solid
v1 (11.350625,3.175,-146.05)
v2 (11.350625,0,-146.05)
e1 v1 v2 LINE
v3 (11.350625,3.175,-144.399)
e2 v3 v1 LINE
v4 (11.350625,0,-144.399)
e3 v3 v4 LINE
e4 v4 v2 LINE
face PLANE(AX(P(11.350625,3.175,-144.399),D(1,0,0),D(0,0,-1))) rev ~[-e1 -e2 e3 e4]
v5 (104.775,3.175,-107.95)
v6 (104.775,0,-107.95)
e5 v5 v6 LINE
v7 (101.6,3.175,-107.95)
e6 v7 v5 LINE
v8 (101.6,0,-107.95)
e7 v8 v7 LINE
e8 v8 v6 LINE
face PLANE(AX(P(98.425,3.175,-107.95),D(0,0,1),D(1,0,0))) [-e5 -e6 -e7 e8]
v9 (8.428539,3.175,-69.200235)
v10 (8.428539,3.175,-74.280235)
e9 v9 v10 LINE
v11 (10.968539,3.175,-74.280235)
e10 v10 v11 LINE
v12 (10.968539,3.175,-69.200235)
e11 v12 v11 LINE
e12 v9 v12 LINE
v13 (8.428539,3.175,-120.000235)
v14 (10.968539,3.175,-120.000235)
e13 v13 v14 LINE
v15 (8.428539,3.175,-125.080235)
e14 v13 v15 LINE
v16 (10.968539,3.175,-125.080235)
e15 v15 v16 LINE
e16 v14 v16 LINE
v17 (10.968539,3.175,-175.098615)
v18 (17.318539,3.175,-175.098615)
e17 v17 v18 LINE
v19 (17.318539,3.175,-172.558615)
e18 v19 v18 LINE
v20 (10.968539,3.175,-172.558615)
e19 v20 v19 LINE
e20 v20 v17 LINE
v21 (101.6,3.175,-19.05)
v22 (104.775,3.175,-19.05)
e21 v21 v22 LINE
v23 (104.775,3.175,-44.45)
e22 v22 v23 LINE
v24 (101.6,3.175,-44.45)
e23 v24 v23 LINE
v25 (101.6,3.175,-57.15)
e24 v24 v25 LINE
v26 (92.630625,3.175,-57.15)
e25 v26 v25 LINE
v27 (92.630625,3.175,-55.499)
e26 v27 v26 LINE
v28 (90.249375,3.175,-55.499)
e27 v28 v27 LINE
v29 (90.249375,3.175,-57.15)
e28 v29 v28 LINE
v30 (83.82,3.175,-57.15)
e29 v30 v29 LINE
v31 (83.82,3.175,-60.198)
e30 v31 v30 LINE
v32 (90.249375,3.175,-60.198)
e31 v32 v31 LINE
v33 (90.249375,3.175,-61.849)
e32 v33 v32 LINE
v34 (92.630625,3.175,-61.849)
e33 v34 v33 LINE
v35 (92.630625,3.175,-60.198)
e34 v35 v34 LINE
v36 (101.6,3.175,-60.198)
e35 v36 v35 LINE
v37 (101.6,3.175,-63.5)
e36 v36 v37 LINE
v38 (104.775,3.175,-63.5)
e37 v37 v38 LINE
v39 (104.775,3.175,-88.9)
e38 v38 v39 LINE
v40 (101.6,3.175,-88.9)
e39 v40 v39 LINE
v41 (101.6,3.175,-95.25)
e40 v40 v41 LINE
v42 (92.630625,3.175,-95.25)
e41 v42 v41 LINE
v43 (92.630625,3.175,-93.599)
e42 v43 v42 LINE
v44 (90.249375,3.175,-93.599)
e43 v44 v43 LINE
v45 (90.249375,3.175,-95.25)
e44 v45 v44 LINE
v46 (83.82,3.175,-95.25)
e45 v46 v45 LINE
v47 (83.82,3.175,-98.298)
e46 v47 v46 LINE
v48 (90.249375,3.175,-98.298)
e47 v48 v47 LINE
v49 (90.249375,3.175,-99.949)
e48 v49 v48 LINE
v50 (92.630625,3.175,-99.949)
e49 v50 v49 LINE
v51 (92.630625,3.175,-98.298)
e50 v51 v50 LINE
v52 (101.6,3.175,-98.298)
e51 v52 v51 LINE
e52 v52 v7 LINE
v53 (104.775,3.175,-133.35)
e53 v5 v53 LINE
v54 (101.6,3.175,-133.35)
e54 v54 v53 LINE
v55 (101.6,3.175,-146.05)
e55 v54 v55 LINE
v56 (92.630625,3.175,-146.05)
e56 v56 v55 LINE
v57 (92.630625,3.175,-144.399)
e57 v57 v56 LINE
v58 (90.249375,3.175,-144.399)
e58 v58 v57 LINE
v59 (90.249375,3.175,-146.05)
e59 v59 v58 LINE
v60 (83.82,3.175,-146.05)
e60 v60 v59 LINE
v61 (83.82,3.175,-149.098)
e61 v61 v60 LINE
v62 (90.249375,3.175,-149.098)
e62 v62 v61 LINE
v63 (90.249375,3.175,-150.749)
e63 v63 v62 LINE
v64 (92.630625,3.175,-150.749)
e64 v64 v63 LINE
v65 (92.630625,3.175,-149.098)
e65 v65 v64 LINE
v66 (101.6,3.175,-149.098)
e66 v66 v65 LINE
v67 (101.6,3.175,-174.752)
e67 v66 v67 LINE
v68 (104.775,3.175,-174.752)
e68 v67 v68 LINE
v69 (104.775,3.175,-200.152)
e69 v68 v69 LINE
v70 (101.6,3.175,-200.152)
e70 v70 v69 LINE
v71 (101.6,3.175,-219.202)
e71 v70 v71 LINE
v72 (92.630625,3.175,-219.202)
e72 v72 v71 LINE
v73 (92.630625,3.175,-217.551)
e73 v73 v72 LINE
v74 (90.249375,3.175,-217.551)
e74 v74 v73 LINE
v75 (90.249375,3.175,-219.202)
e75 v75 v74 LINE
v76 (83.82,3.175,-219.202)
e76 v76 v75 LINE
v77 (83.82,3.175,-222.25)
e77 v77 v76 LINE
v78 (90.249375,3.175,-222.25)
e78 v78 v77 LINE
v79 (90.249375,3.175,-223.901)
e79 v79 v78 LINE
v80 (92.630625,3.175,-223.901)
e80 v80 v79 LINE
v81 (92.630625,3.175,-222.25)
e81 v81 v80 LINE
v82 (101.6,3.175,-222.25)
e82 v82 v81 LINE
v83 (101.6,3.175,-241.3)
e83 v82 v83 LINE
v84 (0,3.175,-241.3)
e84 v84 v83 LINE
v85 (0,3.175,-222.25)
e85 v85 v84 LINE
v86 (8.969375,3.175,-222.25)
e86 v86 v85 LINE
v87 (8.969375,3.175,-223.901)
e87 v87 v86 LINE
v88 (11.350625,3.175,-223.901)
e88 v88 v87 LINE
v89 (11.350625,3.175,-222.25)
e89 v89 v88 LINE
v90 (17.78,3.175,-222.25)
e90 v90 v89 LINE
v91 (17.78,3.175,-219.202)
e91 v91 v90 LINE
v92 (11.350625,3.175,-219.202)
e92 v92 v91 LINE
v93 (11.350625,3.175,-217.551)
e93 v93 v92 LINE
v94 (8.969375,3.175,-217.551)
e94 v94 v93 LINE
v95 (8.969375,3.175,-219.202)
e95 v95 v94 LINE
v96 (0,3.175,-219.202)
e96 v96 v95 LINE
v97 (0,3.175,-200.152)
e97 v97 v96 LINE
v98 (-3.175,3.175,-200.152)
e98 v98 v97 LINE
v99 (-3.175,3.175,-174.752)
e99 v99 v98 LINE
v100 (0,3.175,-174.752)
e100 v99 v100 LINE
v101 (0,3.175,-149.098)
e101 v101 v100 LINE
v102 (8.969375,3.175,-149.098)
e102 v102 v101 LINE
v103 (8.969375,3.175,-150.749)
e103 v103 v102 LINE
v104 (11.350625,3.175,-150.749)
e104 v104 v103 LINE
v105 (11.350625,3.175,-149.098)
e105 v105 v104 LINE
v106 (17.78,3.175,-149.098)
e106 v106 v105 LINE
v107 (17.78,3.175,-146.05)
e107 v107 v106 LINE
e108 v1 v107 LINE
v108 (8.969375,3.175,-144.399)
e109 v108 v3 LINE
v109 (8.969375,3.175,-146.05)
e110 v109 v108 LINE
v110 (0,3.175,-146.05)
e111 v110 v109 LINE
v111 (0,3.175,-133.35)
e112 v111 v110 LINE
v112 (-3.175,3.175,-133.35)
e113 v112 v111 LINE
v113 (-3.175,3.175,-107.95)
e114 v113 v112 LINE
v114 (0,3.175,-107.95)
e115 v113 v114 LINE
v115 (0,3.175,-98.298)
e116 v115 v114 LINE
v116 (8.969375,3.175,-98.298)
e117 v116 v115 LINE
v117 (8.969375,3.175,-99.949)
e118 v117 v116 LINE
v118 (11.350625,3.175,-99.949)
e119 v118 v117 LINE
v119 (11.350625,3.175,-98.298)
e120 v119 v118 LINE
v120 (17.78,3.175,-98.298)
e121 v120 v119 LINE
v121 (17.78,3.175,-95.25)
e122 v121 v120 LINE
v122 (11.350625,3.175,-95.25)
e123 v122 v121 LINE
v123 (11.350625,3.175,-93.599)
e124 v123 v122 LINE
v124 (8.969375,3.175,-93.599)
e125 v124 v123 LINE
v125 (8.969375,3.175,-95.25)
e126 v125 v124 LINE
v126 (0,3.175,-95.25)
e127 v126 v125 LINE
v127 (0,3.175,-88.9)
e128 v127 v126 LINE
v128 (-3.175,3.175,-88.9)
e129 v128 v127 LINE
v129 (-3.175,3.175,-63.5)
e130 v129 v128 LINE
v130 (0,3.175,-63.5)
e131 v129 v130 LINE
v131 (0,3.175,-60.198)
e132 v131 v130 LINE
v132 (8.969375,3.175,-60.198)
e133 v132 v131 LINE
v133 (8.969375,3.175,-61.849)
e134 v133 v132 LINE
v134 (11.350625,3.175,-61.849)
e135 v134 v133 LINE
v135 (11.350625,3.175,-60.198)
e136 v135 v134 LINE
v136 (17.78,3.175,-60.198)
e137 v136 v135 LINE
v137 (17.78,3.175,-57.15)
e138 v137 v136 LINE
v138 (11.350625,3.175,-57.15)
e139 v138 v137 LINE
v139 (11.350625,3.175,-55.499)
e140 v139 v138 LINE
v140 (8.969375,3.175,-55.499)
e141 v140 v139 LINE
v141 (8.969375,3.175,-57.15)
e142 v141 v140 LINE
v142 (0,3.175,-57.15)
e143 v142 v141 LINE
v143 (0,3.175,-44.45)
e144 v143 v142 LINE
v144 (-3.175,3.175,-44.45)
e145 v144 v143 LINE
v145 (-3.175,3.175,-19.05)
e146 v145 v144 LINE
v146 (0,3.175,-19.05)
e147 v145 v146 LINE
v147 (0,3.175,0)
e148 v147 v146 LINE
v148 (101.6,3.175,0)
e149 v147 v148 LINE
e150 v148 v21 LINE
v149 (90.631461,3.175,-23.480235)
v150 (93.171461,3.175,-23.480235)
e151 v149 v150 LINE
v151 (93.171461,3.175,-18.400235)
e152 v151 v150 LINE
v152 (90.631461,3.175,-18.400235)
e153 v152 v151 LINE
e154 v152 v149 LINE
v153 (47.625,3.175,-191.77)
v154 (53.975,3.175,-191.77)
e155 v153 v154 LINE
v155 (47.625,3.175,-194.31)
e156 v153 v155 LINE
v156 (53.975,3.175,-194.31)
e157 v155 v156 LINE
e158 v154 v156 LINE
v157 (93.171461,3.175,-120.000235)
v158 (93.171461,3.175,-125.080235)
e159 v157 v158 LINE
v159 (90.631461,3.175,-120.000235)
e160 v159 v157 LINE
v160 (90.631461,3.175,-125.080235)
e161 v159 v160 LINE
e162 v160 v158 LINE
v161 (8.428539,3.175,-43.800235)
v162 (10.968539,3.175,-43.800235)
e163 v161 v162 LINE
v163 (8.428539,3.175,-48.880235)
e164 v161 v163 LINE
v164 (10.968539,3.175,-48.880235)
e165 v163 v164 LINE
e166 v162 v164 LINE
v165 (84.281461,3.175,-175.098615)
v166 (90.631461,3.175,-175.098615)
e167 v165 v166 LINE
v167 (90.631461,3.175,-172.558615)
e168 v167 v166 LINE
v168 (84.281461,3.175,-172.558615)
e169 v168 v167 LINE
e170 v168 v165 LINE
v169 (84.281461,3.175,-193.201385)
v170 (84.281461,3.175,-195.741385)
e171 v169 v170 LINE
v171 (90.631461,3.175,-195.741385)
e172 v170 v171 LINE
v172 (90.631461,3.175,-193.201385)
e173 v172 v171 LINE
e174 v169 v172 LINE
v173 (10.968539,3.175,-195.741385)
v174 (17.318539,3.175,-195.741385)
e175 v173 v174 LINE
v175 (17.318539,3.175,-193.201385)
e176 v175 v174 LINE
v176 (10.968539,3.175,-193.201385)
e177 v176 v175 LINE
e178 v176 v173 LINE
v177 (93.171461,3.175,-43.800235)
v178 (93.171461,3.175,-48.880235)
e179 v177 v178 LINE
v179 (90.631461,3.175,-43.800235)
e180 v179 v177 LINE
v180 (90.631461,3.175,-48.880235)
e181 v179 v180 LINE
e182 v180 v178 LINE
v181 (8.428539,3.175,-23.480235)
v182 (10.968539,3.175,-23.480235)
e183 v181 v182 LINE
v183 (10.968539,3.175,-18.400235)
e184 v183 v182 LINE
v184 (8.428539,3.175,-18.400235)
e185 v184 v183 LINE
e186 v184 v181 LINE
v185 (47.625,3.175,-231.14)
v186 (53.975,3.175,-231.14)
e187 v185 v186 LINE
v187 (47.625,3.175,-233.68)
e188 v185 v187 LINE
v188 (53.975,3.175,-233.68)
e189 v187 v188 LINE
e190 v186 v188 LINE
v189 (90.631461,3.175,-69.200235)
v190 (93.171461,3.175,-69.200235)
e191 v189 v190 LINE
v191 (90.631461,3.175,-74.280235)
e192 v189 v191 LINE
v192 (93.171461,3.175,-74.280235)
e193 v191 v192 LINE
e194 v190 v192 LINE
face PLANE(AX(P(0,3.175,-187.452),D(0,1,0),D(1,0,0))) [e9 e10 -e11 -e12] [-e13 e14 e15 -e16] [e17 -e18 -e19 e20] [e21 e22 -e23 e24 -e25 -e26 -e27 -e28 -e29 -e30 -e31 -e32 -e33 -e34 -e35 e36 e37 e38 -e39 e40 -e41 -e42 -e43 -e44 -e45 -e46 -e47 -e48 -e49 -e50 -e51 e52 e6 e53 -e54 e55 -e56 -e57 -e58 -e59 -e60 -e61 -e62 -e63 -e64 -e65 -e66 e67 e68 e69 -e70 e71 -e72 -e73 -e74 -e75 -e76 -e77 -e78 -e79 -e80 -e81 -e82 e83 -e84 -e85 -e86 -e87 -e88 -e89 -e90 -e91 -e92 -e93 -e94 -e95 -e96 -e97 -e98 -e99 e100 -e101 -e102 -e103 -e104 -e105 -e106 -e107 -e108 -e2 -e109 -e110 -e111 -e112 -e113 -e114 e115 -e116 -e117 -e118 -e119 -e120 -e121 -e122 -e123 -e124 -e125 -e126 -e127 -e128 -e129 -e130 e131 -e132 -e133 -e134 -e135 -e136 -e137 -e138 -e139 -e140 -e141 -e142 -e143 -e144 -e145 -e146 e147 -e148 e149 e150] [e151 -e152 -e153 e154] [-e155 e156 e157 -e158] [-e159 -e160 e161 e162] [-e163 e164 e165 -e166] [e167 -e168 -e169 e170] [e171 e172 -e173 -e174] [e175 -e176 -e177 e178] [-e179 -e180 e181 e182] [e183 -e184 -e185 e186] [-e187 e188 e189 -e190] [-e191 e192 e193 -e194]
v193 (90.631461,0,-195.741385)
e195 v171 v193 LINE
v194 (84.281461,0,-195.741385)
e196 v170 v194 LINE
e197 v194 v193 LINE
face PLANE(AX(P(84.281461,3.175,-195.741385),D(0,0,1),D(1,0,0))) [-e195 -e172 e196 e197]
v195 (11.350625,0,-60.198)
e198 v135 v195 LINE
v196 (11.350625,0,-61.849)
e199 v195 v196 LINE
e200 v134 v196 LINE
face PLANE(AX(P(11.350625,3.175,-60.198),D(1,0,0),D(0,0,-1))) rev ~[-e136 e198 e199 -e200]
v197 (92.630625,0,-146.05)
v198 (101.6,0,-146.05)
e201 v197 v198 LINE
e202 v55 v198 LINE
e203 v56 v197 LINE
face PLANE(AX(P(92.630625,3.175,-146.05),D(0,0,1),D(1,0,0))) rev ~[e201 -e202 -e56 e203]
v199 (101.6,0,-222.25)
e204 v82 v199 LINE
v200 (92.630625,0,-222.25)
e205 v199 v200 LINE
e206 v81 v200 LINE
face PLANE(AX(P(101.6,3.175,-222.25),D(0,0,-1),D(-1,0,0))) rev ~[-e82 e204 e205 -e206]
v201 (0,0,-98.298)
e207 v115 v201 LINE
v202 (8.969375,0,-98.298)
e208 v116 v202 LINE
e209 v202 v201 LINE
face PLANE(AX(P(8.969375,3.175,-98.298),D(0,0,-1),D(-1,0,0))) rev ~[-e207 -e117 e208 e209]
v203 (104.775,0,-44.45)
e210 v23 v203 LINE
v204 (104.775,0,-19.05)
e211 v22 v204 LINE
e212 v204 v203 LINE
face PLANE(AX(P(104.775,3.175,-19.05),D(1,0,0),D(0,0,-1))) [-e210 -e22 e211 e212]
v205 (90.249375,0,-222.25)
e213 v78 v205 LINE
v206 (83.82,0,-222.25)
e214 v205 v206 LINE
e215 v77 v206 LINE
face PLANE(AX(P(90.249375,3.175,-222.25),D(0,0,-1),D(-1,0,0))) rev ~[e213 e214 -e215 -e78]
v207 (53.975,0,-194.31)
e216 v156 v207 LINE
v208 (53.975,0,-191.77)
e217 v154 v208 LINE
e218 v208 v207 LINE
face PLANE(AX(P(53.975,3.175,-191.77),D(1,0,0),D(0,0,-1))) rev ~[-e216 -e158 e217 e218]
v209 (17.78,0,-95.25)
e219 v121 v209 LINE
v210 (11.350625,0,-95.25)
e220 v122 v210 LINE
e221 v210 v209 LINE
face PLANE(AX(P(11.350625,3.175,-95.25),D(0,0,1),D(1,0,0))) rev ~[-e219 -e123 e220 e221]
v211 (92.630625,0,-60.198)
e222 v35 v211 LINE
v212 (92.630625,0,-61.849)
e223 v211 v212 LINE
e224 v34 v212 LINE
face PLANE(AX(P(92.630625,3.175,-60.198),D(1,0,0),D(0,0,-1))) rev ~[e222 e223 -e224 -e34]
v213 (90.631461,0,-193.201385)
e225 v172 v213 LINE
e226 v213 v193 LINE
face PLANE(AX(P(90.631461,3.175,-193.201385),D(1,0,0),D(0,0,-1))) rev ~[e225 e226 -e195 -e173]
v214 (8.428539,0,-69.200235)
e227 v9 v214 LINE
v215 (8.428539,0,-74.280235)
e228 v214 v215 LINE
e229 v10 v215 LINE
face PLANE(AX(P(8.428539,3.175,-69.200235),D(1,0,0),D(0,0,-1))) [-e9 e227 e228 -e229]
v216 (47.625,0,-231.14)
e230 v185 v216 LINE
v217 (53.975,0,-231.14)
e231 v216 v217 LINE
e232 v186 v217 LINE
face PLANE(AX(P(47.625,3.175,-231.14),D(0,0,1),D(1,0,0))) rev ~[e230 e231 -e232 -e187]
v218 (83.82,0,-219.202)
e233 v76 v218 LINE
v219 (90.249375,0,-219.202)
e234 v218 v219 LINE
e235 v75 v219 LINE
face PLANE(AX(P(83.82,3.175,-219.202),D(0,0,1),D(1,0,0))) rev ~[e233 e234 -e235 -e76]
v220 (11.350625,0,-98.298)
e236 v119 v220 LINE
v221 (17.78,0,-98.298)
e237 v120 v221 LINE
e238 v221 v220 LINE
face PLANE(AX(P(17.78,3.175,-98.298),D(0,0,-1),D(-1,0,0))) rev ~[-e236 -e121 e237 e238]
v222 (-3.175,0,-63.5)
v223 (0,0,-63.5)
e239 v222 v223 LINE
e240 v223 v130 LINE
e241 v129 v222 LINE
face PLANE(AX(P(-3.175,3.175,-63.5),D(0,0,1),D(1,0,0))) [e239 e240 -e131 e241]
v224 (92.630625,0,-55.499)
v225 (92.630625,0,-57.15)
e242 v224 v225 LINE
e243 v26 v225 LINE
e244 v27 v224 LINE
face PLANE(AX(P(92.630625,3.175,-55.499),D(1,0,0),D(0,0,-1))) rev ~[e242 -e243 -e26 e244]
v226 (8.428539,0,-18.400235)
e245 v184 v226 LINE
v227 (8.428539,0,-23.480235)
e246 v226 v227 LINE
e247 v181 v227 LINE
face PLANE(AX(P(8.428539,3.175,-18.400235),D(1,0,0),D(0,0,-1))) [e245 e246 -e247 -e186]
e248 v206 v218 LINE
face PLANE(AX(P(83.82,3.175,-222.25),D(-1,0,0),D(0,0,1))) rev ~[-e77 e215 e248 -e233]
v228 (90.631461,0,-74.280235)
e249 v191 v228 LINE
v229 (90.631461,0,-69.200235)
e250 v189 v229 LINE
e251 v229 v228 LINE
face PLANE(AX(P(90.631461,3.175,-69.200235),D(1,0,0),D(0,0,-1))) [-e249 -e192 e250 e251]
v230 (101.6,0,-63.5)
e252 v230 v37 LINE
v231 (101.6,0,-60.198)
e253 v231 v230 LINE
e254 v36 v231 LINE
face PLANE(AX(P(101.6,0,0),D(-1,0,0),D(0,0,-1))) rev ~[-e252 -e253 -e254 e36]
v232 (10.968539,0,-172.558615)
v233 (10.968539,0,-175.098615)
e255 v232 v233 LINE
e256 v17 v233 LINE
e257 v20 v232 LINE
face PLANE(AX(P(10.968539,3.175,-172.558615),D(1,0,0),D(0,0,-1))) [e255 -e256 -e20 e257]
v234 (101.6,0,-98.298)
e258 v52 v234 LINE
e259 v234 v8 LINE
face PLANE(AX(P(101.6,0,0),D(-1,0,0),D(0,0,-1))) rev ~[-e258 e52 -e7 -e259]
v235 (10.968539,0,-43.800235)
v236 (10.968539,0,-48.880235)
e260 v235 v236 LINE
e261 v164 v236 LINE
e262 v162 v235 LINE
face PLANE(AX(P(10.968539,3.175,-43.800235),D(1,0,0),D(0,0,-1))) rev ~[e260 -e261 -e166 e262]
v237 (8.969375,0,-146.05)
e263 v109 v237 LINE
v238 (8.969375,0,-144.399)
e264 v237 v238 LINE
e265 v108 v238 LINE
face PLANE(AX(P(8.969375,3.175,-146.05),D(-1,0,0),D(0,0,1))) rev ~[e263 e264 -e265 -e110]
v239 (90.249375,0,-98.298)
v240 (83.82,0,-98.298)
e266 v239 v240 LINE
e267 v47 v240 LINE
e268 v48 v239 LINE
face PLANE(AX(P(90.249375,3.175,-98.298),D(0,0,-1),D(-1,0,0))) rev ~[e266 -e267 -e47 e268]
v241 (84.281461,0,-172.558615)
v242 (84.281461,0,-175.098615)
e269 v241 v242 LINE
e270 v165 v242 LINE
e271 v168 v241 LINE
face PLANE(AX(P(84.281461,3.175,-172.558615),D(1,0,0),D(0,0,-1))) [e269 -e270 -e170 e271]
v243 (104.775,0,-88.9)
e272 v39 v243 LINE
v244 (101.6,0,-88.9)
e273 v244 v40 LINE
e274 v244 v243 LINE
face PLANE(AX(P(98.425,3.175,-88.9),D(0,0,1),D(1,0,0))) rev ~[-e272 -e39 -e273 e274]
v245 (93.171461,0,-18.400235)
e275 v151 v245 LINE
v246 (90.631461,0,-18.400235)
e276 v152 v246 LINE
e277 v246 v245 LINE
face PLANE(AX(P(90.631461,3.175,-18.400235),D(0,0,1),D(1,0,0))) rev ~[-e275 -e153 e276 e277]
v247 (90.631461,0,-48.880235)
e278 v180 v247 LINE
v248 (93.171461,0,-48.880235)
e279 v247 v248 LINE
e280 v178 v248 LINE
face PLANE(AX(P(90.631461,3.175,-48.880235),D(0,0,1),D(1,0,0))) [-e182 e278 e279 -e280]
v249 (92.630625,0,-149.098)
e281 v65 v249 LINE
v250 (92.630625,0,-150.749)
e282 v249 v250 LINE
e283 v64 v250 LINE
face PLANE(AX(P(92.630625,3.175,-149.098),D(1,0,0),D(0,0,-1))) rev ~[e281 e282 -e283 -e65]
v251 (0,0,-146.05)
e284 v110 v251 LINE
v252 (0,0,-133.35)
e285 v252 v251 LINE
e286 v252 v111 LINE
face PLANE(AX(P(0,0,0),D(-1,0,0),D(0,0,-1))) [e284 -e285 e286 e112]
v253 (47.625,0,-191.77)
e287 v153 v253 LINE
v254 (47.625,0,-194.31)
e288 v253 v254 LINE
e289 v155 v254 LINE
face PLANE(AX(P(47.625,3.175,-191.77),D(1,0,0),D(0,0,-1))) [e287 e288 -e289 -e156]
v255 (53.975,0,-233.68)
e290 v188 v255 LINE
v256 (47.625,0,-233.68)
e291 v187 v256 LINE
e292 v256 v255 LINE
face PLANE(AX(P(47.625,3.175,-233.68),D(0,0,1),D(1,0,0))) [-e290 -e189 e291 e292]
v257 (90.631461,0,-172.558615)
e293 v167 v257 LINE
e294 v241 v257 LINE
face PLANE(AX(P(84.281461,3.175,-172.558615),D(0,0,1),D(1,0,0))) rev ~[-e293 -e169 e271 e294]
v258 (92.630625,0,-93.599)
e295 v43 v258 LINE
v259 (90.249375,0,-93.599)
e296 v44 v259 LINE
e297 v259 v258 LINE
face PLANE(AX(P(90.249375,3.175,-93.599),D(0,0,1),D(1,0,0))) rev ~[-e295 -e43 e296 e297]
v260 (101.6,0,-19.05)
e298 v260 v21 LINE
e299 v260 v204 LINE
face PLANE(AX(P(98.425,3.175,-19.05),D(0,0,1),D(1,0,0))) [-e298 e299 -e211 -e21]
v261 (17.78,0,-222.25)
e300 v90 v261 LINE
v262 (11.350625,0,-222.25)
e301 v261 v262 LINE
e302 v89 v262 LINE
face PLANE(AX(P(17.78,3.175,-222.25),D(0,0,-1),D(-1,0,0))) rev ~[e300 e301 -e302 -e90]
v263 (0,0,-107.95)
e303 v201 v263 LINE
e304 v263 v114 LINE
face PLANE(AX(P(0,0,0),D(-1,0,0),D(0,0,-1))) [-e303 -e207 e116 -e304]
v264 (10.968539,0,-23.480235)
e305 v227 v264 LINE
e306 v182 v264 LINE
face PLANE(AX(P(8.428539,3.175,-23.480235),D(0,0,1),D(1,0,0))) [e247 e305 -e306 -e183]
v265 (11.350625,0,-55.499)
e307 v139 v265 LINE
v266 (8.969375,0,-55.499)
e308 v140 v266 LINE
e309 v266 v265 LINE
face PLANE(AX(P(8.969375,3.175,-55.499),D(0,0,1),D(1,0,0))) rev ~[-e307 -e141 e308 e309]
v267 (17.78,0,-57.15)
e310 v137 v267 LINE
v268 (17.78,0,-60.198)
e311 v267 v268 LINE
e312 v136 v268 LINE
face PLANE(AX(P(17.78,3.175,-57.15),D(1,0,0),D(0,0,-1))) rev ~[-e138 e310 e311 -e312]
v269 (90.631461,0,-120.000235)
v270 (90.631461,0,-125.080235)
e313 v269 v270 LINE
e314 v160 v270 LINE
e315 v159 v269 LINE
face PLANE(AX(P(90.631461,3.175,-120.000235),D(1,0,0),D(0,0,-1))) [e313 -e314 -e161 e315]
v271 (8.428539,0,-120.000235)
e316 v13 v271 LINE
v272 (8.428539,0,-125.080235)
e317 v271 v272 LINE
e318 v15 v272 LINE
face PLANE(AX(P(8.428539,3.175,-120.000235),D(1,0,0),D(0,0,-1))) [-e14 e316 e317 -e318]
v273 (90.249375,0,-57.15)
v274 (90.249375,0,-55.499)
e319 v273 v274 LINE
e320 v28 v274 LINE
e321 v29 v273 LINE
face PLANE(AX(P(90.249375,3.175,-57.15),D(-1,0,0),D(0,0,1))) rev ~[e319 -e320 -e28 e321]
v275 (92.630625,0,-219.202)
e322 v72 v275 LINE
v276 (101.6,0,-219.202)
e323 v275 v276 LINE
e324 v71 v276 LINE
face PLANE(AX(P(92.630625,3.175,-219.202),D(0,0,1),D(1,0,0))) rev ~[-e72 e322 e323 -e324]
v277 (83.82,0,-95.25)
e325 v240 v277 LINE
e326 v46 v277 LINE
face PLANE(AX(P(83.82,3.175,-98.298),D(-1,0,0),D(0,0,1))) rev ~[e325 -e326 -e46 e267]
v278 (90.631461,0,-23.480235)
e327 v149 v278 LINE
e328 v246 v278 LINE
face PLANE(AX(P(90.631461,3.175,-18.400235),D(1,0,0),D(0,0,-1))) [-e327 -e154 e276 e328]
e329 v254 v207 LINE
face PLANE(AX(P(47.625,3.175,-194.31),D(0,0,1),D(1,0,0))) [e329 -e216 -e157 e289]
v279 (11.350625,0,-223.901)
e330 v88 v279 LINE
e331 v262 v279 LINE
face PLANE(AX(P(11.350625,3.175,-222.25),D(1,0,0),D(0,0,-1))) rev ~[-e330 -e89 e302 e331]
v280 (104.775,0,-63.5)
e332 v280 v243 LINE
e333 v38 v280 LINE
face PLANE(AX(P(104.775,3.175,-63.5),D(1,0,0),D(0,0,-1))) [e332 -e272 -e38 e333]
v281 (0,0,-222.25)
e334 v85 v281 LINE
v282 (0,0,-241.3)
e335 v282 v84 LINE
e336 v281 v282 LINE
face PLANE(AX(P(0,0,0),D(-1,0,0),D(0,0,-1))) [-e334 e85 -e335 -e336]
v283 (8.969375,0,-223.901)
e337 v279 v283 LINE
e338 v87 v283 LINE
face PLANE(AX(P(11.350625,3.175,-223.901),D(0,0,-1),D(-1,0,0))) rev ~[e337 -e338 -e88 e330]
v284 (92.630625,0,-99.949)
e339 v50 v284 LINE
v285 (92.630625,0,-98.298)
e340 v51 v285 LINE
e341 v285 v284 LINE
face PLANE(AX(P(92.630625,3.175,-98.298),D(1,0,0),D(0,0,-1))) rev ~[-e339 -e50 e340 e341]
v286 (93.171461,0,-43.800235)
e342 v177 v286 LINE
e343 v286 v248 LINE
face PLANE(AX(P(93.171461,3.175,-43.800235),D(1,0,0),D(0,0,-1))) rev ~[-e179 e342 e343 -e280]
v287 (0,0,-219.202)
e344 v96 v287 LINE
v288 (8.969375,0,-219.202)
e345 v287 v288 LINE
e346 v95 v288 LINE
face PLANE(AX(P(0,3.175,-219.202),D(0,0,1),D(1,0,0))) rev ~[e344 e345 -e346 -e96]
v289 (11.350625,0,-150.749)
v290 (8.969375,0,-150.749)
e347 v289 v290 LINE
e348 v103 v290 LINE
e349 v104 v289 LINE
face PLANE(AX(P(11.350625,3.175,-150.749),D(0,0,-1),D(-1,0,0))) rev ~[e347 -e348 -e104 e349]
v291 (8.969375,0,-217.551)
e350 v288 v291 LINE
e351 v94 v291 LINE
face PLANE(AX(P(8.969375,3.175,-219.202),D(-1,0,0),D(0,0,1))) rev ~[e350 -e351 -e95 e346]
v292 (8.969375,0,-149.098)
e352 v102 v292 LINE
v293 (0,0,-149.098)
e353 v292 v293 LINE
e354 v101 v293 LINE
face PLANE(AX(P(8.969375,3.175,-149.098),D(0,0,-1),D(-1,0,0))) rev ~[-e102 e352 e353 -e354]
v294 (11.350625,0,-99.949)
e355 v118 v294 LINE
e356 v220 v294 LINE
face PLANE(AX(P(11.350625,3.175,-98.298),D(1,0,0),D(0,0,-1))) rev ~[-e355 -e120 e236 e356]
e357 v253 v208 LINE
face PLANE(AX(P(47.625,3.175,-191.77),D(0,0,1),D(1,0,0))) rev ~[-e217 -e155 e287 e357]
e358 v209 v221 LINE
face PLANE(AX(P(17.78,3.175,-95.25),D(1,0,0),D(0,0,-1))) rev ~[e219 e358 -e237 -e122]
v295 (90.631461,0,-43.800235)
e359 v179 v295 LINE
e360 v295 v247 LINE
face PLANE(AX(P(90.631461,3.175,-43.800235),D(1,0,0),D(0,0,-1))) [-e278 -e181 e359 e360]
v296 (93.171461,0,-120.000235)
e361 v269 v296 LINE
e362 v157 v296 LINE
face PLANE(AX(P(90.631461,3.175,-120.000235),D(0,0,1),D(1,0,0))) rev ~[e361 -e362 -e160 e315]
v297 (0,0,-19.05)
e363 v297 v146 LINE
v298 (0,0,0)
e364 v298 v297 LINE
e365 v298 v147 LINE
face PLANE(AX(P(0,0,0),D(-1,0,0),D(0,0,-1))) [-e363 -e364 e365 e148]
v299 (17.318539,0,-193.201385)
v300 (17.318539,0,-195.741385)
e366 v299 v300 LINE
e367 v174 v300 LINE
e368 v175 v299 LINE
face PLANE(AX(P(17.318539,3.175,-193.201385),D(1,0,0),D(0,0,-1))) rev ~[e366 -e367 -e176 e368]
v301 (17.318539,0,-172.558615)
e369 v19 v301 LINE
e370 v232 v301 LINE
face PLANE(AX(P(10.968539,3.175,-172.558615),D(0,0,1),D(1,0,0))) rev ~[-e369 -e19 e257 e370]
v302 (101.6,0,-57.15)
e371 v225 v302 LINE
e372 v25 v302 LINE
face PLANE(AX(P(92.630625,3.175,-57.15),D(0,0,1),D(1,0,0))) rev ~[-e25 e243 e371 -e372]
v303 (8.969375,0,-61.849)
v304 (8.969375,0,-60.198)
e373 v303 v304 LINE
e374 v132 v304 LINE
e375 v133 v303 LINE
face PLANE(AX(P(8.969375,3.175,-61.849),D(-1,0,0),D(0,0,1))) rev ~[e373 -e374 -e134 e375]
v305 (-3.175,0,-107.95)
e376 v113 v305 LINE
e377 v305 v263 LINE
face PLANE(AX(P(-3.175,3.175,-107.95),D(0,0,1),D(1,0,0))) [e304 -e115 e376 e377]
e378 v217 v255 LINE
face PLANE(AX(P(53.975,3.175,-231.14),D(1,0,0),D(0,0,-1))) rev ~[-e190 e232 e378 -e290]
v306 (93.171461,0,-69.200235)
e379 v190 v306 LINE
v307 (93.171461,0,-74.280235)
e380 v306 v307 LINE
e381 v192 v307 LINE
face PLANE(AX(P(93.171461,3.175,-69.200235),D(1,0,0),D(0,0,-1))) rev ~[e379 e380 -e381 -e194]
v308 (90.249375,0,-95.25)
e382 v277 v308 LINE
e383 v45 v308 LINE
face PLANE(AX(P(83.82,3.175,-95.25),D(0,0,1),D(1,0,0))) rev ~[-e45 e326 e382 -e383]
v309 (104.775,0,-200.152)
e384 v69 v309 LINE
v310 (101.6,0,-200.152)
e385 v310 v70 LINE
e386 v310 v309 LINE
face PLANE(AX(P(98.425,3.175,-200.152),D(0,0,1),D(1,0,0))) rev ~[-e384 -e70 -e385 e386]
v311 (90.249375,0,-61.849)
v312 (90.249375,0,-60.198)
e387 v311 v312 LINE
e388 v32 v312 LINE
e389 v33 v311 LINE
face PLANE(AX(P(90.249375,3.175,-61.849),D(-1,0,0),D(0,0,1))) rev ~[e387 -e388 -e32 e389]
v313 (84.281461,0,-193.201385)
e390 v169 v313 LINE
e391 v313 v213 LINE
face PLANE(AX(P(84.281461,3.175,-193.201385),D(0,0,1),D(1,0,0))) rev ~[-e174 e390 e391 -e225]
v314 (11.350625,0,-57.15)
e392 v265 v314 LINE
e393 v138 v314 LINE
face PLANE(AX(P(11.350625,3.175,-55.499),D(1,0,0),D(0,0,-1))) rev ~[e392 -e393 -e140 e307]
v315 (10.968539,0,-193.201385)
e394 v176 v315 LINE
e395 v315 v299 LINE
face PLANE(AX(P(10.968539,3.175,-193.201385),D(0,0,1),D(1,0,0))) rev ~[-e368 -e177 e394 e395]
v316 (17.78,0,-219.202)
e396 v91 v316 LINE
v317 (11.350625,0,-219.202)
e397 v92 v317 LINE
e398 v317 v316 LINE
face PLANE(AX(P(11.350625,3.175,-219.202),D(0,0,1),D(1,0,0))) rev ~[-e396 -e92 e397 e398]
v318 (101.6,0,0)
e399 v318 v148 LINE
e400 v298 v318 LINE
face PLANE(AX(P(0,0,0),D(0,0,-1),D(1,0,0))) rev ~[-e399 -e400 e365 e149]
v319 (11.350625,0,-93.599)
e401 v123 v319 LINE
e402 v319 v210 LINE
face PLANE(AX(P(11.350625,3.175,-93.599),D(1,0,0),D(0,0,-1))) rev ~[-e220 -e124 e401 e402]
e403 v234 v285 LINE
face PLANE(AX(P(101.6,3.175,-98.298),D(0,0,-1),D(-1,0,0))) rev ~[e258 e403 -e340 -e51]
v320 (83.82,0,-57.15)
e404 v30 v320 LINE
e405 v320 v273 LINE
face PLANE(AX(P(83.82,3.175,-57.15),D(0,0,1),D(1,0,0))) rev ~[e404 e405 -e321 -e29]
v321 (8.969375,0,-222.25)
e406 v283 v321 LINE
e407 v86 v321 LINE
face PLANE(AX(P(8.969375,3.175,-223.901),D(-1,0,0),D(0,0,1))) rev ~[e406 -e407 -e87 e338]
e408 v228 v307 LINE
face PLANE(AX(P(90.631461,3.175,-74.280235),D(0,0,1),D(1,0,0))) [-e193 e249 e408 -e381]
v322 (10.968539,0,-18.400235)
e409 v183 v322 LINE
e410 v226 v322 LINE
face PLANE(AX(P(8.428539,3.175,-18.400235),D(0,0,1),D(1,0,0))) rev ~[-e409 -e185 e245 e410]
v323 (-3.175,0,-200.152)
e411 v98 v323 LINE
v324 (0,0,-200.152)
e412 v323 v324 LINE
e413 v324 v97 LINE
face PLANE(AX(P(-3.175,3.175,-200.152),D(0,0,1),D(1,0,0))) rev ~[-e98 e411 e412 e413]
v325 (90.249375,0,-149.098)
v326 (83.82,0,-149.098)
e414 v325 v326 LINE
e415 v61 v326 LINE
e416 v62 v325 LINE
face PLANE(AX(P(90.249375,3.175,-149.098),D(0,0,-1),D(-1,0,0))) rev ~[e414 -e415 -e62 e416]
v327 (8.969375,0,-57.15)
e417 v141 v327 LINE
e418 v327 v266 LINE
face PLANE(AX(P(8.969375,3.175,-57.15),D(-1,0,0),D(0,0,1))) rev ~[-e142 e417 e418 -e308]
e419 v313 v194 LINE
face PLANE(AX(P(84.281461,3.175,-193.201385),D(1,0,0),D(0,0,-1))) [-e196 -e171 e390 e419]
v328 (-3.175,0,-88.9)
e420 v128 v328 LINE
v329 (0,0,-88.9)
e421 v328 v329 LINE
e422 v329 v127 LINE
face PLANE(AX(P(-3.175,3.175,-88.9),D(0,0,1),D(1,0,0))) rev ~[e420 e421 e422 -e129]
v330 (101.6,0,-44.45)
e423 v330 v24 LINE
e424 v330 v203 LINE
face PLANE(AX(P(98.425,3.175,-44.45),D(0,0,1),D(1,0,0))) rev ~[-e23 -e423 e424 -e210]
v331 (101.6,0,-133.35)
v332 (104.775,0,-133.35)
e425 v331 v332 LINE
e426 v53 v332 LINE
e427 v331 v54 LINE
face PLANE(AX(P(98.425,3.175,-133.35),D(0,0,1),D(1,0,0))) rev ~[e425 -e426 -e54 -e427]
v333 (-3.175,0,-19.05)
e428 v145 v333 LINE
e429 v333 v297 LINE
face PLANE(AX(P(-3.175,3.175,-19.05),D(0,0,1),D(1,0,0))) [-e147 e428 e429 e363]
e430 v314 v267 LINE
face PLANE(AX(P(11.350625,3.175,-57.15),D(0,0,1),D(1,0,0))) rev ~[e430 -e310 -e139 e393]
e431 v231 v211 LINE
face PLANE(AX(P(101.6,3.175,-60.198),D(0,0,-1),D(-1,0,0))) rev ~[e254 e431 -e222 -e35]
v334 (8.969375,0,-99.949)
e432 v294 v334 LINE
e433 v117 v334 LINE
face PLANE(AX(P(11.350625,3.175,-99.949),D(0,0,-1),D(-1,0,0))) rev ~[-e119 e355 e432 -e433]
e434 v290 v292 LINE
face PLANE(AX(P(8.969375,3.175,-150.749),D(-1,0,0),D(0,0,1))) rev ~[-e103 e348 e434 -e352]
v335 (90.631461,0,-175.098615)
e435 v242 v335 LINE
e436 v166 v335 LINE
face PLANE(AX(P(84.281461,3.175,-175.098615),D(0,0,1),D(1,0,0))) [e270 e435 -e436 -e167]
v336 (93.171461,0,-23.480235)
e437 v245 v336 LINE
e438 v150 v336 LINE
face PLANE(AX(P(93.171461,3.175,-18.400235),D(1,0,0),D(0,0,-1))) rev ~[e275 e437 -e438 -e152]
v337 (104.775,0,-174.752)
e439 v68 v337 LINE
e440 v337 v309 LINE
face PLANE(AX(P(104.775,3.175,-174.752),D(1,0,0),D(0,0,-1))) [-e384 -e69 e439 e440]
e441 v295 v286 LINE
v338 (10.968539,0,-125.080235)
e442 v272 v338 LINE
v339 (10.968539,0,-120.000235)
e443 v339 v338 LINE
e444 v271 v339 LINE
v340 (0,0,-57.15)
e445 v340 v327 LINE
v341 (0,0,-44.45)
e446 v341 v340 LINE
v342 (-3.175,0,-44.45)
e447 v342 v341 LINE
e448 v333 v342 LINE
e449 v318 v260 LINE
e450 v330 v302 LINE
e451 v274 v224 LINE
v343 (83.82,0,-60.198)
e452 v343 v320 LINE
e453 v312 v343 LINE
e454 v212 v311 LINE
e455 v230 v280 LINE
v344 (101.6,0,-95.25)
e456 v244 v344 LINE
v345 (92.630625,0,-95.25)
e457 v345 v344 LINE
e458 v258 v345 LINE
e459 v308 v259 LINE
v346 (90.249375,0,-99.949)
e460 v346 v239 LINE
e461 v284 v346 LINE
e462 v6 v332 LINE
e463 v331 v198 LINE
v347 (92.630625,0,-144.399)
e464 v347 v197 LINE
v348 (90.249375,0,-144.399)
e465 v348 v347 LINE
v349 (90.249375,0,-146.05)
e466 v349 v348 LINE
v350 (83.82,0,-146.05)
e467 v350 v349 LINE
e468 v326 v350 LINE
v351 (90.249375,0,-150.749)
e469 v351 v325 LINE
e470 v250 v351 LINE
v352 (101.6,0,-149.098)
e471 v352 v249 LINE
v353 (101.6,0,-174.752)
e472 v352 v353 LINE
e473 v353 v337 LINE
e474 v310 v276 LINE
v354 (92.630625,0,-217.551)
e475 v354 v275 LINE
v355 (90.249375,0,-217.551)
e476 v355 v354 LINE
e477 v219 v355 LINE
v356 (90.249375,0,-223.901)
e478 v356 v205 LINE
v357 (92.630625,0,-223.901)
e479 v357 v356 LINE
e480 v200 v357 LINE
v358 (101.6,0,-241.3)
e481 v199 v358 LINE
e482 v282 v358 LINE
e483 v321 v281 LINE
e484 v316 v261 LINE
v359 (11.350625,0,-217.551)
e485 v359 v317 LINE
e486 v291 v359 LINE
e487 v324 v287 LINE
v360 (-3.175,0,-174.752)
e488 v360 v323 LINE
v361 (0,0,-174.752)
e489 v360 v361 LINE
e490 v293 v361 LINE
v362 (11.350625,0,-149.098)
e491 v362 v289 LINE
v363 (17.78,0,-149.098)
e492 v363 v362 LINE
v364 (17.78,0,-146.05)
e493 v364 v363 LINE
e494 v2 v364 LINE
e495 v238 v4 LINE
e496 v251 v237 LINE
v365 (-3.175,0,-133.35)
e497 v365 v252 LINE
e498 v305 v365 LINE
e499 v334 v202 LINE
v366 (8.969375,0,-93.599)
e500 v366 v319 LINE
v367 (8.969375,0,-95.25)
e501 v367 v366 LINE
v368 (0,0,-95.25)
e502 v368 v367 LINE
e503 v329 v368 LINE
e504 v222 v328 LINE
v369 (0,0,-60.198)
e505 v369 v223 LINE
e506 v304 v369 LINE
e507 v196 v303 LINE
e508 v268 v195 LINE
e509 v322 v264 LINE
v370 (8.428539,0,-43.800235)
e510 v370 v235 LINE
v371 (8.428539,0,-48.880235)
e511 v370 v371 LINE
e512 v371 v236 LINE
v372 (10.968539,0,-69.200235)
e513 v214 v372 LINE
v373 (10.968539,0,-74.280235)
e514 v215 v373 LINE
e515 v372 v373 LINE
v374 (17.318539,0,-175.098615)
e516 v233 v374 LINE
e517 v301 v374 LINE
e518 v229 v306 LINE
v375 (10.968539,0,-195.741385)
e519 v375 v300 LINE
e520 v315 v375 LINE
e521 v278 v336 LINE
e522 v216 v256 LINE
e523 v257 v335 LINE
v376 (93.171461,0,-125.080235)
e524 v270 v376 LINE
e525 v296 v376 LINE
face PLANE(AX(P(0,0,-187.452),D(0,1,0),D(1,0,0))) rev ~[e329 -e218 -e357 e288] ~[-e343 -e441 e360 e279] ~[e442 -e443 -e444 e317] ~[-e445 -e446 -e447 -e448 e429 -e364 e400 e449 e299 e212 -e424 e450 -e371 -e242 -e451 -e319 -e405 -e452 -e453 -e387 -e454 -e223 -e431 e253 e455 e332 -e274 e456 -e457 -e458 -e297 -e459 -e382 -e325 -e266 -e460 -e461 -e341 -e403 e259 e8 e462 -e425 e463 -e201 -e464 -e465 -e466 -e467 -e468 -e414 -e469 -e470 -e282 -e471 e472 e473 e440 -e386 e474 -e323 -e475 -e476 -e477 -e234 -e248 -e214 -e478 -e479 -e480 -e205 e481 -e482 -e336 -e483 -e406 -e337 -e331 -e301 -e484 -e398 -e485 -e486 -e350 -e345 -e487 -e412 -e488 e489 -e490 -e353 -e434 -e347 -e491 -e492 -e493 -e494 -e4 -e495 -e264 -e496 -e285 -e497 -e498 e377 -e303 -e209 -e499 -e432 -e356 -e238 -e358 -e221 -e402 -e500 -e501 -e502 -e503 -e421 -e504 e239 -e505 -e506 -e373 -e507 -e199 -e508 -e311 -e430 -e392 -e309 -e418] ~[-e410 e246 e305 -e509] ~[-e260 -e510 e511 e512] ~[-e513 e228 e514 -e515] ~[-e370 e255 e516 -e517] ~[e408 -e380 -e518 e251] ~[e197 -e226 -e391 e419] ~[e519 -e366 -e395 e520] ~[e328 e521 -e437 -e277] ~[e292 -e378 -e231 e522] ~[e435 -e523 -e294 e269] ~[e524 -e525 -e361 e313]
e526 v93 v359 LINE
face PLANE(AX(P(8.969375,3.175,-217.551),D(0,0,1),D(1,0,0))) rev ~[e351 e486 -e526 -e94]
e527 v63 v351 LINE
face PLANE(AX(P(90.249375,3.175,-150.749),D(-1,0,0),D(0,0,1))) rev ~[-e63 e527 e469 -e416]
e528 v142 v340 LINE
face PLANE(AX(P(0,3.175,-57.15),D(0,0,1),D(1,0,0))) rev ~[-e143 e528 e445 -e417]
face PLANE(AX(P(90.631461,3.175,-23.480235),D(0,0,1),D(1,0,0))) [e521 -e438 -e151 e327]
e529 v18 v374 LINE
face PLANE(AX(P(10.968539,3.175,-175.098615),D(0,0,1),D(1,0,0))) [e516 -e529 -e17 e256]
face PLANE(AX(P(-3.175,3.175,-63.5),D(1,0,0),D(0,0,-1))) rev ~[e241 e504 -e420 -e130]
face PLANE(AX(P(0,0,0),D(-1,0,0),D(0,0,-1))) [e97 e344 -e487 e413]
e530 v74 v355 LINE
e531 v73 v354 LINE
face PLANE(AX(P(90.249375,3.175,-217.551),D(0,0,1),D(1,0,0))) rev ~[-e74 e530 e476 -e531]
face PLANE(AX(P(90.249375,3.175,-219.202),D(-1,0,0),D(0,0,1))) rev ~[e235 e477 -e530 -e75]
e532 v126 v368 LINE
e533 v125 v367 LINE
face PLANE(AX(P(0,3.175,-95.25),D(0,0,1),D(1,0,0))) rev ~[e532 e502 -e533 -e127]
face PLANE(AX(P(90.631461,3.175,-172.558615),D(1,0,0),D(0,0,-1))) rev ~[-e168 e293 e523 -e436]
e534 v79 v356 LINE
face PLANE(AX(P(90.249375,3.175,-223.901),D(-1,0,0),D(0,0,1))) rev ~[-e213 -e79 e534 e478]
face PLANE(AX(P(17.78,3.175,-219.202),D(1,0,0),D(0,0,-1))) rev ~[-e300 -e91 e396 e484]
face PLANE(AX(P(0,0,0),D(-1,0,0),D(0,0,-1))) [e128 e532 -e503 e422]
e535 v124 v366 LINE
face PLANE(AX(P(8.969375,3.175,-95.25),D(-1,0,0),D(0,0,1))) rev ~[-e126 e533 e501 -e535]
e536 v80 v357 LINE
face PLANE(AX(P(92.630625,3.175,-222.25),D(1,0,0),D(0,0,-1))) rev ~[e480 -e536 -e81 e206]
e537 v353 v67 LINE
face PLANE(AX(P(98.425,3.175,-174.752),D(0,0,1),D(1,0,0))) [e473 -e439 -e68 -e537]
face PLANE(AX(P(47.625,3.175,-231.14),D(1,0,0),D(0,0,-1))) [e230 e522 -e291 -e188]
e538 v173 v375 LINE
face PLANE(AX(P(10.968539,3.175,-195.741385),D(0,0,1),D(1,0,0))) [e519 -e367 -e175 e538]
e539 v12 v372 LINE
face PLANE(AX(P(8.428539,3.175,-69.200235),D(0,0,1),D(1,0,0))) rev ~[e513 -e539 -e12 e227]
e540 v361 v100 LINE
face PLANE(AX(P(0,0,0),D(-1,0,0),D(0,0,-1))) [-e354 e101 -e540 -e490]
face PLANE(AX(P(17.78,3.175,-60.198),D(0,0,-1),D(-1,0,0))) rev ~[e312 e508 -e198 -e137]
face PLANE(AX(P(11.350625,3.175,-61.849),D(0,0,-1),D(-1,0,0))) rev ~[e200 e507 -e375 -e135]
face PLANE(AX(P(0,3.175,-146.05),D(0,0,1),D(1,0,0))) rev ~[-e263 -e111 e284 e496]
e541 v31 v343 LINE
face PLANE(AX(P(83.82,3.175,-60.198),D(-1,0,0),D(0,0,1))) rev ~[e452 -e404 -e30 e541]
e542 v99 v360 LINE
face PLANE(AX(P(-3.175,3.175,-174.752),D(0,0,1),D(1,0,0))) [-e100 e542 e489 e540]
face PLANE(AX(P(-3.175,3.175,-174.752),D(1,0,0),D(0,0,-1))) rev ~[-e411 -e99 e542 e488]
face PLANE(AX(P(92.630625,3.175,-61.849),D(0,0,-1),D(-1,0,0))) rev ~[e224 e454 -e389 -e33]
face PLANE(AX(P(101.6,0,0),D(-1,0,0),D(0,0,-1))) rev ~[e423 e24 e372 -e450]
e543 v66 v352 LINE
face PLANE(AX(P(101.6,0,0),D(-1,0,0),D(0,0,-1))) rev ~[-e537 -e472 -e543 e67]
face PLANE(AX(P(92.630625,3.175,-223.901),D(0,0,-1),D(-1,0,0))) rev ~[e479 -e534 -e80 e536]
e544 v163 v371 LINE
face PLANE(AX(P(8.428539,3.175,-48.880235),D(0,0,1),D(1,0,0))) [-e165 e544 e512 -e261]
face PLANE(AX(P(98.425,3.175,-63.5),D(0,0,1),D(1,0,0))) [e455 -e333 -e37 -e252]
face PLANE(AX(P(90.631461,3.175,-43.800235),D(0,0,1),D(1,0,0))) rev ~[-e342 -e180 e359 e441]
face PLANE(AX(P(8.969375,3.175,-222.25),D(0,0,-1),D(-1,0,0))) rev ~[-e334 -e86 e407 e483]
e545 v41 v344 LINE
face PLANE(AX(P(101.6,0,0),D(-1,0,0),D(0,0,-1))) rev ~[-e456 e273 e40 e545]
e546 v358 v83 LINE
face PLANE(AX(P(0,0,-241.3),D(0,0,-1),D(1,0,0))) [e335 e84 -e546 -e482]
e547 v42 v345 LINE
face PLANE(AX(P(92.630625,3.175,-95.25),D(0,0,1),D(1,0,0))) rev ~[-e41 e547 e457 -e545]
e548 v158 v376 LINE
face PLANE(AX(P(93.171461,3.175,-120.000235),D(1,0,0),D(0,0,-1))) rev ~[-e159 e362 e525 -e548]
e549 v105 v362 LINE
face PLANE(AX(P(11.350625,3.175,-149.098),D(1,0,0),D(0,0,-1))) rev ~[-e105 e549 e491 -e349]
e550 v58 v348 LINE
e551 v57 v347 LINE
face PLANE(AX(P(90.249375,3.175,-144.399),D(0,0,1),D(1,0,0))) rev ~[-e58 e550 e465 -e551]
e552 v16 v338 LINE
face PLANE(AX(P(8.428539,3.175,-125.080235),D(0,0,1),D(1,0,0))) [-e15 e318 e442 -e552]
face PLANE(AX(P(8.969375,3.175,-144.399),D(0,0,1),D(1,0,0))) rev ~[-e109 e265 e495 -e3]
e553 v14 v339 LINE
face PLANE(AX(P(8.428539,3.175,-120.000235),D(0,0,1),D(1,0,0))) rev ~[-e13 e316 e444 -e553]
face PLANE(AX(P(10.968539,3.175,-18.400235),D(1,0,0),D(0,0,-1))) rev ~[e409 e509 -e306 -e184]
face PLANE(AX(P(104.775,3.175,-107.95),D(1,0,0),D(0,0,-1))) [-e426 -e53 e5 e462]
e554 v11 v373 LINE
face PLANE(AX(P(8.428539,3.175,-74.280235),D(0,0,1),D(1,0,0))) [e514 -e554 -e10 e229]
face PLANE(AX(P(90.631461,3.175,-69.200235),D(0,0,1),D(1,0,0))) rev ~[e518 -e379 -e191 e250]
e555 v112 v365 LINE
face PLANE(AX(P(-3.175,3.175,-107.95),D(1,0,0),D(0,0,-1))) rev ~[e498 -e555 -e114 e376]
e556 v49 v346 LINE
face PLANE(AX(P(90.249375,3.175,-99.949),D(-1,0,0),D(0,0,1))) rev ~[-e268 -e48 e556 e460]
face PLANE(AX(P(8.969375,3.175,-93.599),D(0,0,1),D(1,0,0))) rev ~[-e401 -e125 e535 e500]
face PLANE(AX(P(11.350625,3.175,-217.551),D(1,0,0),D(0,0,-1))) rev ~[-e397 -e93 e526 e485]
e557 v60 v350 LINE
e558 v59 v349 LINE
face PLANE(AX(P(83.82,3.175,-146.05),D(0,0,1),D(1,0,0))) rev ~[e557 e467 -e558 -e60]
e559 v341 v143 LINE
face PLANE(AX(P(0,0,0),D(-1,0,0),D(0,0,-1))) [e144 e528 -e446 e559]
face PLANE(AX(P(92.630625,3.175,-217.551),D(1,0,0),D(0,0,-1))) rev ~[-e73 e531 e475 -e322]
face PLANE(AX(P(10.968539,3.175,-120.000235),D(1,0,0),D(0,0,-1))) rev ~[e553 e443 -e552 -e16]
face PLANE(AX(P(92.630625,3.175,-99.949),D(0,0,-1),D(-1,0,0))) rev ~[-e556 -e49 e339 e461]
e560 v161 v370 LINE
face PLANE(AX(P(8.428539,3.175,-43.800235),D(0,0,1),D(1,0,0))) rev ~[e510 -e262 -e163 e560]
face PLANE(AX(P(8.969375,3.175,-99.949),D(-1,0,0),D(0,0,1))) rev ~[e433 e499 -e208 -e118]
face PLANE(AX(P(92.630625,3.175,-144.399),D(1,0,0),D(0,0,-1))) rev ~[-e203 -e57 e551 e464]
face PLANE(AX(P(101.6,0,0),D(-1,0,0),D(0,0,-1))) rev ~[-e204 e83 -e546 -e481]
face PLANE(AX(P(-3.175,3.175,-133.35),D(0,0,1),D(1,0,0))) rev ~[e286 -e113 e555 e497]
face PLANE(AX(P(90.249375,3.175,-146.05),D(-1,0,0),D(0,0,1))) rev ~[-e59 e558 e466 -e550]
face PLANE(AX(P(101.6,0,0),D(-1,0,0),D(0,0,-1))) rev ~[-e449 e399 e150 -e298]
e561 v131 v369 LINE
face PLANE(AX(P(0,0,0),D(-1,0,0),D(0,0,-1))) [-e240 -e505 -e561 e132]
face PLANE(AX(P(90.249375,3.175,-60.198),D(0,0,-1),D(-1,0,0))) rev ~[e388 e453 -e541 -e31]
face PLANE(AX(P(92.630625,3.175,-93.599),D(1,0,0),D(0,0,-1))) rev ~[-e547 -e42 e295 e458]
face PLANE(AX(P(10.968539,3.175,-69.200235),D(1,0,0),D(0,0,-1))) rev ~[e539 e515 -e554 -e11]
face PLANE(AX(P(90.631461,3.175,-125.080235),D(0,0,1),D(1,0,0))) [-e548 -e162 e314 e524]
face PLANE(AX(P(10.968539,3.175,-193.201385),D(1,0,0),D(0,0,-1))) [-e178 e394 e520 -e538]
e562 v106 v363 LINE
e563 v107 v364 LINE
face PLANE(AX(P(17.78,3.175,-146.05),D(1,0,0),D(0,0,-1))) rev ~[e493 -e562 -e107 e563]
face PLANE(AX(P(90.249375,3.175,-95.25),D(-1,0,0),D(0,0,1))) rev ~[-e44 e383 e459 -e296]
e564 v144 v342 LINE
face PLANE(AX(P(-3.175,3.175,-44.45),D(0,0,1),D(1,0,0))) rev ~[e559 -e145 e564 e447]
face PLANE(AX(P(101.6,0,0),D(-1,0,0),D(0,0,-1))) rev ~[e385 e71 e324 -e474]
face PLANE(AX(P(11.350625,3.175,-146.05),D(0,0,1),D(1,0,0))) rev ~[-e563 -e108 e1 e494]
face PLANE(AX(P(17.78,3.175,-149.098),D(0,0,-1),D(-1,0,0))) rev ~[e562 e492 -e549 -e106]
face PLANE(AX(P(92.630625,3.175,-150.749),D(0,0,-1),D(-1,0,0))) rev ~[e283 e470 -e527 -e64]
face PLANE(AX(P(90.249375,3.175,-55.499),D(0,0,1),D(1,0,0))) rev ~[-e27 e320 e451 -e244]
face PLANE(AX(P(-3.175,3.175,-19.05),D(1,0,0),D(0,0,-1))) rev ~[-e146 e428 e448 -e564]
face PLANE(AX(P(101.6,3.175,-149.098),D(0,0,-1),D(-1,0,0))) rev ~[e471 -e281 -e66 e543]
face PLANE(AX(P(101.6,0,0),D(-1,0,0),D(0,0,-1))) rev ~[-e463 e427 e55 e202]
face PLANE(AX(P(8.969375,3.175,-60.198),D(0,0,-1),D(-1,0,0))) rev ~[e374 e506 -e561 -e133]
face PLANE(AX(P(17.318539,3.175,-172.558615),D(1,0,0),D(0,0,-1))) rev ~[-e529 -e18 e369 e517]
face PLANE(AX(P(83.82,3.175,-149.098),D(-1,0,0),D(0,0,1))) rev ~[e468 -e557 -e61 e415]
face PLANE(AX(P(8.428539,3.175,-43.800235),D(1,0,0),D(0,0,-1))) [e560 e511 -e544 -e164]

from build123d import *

# Parameters (mm, degrees)
SKETCH1_W           = 101.6
SKETCH1_H           = 241.3
BOSS_EXTRUDE1_DEPTH = 3.175
SKETCH2_W           = 2.54
SKETCH2_H           = 5.08
SKETCH2_W_2         = 6.35
SKETCH2_H_2         = 2.54
CUT_EXTRUDE1_DEPTH  = 6.35
SKETCH3_W           = 6.35
SKETCH3_H           = 25.4
BOSS_EXTRUDE2_DEPTH = 3.175


with BuildPart() as part:
    # Sketch1 → Boss-Extrude1 (new body)
    with BuildSketch(Plane(origin=(0, 0, 0), x_dir=(1, 0, 0), z_dir=(0, 1, 0))):
        with Locations((50.8, 120.65)):
            Rectangle(SKETCH1_W, SKETCH1_H)
    extrude(amount=BOSS_EXTRUDE1_DEPTH)

    # Sketch2 → Cut-Extrude1 (cut)
    with BuildSketch(Plane(origin=(0, 3.175, 0), x_dir=(1, 0, 0), z_dir=(0, 1, 0))):
        with Locations((9.698538564, 20.940235373)):
            Rectangle(SKETCH2_W, SKETCH2_H)
        with Locations((9.698538564, 46.340235373)):
            Rectangle(SKETCH2_W, SKETCH2_H)
        with Locations((9.698538564, 71.740235373)):
            Rectangle(SKETCH2_W, SKETCH2_H)
        with Locations((9.698538564, 122.540235373)):
            Rectangle(SKETCH2_W, SKETCH2_H)
        with Locations((14.143538564, 173.828614979)):
            Rectangle(SKETCH2_W_2, SKETCH2_H_2)
        with Locations((14.143538564, 194.471385021)):
            Rectangle(SKETCH2_W_2, SKETCH2_H_2)
        with Locations((50.8, 193.04)):
            Rectangle(SKETCH2_W_2, SKETCH2_H_2)
        with Locations((50.8, 232.41)):
            Rectangle(SKETCH2_W_2, SKETCH2_H_2)
        Polygon((8.969375, 60.198), (0, 60.198), (0, 57.15), (8.969375, 57.15), (8.969375, 55.499), (11.350625, 55.499), (11.350625, 57.15), (17.78, 57.15), (17.78, 60.198), (11.350625, 60.198), (11.350625, 61.849), (8.969375, 61.849), align=None)
        Polygon((8.969375, 98.298), (0, 98.298), (0, 95.25), (8.969375, 95.25), (8.969375, 93.599), (11.350625, 93.599), (11.350625, 95.25), (17.78, 95.25), (17.78, 98.298), (11.350625, 98.298), (11.350625, 99.949), (8.969375, 99.949), align=None)
        Polygon((8.969375, 149.098), (0, 149.098), (0, 146.05), (8.969375, 146.05), (8.969375, 144.399), (11.350625, 144.399), (11.350625, 146.05), (17.78, 146.05), (17.78, 149.098), (11.350625, 149.098), (11.350625, 150.749), (8.969375, 150.749), align=None)
        Polygon((8.969375, 222.25), (0, 222.25), (0, 219.202), (8.969375, 219.202), (8.969375, 217.551), (11.350625, 217.551), (11.350625, 219.202), (17.78, 219.202), (17.78, 222.25), (11.350625, 222.25), (11.350625, 223.901), (8.969375, 223.901), align=None)
        with Locations((91.901461436, 20.940235373)):
            Rectangle(SKETCH2_W, SKETCH2_H)
        Polygon((90.249375, 61.849), (90.249375, 60.198), (83.82, 60.198), (83.82, 57.15), (90.249375, 57.15), (90.249375, 55.499), (92.630625, 55.499), (92.630625, 57.15), (101.6, 57.15), (101.6, 60.198), (92.630625, 60.198), (92.630625, 61.849), align=None)
        with Locations((91.901461436, 46.340235373)):
            Rectangle(SKETCH2_W, SKETCH2_H)
        with Locations((91.901461436, 71.740235373)):
            Rectangle(SKETCH2_W, SKETCH2_H)
        Polygon((90.249375, 93.599), (92.630625, 93.599), (92.630625, 95.25), (101.6, 95.25), (101.6, 98.298), (92.630625, 98.298), (92.630625, 99.949), (90.249375, 99.949), (90.249375, 98.298), (83.82, 98.298), (83.82, 95.25), (90.249375, 95.25), align=None)
        with Locations((91.901461436, 122.540235373)):
            Rectangle(SKETCH2_W, SKETCH2_H)
        Polygon((90.249375, 144.399), (92.630625, 144.399), (92.630625, 146.05), (101.6, 146.05), (101.6, 149.098), (92.630625, 149.098), (92.630625, 150.749), (90.249375, 150.749), (90.249375, 149.098), (83.82, 149.098), (83.82, 146.05), (90.249375, 146.05), align=None)
        Polygon((90.249375, 219.202), (90.249375, 217.551), (92.630625, 217.551), (92.630625, 219.202), (101.6, 219.202), (101.6, 222.25), (92.630625, 222.25), (92.630625, 223.901), (90.249375, 223.901), (90.249375, 222.25), (83.82, 222.25), (83.82, 219.202), align=None)
        with Locations((87.456461436, 194.471385021)):
            Rectangle(SKETCH2_W_2, SKETCH2_H_2)
        with Locations((87.456461436, 173.828614979)):
            Rectangle(SKETCH2_W_2, SKETCH2_H_2)
    extrude(amount=-CUT_EXTRUDE1_DEPTH, mode=Mode.SUBTRACT)

    # Sketch3 → Boss-Extrude2 (add)
    with BuildSketch(Plane(origin=(0, 3.175, 0), x_dir=(1, 0, 0), z_dir=(0, 1, 0))):
        with Locations((0, 187.452)):
            Rectangle(SKETCH3_W, SKETCH3_H)
        with Locations((0, 120.65)):
            Rectangle(SKETCH3_W, SKETCH3_H)
        with Locations((0, 76.2)):
            Rectangle(SKETCH3_W, SKETCH3_H)
        with Locations((0, 31.75)):
            Rectangle(SKETCH3_W, SKETCH3_H)
        with Locations((101.6, 31.75)):
            Rectangle(SKETCH3_W, SKETCH3_H)
        with Locations((101.6, 76.2)):
            Rectangle(SKETCH3_W, SKETCH3_H)
        with Locations((101.6, 120.65)):
            Rectangle(SKETCH3_W, SKETCH3_H)
        with Locations((101.6, 187.452)):
            Rectangle(SKETCH3_W, SKETCH3_H)
    extrude(amount=-BOSS_EXTRUDE2_DEPTH)


solid = part.part
